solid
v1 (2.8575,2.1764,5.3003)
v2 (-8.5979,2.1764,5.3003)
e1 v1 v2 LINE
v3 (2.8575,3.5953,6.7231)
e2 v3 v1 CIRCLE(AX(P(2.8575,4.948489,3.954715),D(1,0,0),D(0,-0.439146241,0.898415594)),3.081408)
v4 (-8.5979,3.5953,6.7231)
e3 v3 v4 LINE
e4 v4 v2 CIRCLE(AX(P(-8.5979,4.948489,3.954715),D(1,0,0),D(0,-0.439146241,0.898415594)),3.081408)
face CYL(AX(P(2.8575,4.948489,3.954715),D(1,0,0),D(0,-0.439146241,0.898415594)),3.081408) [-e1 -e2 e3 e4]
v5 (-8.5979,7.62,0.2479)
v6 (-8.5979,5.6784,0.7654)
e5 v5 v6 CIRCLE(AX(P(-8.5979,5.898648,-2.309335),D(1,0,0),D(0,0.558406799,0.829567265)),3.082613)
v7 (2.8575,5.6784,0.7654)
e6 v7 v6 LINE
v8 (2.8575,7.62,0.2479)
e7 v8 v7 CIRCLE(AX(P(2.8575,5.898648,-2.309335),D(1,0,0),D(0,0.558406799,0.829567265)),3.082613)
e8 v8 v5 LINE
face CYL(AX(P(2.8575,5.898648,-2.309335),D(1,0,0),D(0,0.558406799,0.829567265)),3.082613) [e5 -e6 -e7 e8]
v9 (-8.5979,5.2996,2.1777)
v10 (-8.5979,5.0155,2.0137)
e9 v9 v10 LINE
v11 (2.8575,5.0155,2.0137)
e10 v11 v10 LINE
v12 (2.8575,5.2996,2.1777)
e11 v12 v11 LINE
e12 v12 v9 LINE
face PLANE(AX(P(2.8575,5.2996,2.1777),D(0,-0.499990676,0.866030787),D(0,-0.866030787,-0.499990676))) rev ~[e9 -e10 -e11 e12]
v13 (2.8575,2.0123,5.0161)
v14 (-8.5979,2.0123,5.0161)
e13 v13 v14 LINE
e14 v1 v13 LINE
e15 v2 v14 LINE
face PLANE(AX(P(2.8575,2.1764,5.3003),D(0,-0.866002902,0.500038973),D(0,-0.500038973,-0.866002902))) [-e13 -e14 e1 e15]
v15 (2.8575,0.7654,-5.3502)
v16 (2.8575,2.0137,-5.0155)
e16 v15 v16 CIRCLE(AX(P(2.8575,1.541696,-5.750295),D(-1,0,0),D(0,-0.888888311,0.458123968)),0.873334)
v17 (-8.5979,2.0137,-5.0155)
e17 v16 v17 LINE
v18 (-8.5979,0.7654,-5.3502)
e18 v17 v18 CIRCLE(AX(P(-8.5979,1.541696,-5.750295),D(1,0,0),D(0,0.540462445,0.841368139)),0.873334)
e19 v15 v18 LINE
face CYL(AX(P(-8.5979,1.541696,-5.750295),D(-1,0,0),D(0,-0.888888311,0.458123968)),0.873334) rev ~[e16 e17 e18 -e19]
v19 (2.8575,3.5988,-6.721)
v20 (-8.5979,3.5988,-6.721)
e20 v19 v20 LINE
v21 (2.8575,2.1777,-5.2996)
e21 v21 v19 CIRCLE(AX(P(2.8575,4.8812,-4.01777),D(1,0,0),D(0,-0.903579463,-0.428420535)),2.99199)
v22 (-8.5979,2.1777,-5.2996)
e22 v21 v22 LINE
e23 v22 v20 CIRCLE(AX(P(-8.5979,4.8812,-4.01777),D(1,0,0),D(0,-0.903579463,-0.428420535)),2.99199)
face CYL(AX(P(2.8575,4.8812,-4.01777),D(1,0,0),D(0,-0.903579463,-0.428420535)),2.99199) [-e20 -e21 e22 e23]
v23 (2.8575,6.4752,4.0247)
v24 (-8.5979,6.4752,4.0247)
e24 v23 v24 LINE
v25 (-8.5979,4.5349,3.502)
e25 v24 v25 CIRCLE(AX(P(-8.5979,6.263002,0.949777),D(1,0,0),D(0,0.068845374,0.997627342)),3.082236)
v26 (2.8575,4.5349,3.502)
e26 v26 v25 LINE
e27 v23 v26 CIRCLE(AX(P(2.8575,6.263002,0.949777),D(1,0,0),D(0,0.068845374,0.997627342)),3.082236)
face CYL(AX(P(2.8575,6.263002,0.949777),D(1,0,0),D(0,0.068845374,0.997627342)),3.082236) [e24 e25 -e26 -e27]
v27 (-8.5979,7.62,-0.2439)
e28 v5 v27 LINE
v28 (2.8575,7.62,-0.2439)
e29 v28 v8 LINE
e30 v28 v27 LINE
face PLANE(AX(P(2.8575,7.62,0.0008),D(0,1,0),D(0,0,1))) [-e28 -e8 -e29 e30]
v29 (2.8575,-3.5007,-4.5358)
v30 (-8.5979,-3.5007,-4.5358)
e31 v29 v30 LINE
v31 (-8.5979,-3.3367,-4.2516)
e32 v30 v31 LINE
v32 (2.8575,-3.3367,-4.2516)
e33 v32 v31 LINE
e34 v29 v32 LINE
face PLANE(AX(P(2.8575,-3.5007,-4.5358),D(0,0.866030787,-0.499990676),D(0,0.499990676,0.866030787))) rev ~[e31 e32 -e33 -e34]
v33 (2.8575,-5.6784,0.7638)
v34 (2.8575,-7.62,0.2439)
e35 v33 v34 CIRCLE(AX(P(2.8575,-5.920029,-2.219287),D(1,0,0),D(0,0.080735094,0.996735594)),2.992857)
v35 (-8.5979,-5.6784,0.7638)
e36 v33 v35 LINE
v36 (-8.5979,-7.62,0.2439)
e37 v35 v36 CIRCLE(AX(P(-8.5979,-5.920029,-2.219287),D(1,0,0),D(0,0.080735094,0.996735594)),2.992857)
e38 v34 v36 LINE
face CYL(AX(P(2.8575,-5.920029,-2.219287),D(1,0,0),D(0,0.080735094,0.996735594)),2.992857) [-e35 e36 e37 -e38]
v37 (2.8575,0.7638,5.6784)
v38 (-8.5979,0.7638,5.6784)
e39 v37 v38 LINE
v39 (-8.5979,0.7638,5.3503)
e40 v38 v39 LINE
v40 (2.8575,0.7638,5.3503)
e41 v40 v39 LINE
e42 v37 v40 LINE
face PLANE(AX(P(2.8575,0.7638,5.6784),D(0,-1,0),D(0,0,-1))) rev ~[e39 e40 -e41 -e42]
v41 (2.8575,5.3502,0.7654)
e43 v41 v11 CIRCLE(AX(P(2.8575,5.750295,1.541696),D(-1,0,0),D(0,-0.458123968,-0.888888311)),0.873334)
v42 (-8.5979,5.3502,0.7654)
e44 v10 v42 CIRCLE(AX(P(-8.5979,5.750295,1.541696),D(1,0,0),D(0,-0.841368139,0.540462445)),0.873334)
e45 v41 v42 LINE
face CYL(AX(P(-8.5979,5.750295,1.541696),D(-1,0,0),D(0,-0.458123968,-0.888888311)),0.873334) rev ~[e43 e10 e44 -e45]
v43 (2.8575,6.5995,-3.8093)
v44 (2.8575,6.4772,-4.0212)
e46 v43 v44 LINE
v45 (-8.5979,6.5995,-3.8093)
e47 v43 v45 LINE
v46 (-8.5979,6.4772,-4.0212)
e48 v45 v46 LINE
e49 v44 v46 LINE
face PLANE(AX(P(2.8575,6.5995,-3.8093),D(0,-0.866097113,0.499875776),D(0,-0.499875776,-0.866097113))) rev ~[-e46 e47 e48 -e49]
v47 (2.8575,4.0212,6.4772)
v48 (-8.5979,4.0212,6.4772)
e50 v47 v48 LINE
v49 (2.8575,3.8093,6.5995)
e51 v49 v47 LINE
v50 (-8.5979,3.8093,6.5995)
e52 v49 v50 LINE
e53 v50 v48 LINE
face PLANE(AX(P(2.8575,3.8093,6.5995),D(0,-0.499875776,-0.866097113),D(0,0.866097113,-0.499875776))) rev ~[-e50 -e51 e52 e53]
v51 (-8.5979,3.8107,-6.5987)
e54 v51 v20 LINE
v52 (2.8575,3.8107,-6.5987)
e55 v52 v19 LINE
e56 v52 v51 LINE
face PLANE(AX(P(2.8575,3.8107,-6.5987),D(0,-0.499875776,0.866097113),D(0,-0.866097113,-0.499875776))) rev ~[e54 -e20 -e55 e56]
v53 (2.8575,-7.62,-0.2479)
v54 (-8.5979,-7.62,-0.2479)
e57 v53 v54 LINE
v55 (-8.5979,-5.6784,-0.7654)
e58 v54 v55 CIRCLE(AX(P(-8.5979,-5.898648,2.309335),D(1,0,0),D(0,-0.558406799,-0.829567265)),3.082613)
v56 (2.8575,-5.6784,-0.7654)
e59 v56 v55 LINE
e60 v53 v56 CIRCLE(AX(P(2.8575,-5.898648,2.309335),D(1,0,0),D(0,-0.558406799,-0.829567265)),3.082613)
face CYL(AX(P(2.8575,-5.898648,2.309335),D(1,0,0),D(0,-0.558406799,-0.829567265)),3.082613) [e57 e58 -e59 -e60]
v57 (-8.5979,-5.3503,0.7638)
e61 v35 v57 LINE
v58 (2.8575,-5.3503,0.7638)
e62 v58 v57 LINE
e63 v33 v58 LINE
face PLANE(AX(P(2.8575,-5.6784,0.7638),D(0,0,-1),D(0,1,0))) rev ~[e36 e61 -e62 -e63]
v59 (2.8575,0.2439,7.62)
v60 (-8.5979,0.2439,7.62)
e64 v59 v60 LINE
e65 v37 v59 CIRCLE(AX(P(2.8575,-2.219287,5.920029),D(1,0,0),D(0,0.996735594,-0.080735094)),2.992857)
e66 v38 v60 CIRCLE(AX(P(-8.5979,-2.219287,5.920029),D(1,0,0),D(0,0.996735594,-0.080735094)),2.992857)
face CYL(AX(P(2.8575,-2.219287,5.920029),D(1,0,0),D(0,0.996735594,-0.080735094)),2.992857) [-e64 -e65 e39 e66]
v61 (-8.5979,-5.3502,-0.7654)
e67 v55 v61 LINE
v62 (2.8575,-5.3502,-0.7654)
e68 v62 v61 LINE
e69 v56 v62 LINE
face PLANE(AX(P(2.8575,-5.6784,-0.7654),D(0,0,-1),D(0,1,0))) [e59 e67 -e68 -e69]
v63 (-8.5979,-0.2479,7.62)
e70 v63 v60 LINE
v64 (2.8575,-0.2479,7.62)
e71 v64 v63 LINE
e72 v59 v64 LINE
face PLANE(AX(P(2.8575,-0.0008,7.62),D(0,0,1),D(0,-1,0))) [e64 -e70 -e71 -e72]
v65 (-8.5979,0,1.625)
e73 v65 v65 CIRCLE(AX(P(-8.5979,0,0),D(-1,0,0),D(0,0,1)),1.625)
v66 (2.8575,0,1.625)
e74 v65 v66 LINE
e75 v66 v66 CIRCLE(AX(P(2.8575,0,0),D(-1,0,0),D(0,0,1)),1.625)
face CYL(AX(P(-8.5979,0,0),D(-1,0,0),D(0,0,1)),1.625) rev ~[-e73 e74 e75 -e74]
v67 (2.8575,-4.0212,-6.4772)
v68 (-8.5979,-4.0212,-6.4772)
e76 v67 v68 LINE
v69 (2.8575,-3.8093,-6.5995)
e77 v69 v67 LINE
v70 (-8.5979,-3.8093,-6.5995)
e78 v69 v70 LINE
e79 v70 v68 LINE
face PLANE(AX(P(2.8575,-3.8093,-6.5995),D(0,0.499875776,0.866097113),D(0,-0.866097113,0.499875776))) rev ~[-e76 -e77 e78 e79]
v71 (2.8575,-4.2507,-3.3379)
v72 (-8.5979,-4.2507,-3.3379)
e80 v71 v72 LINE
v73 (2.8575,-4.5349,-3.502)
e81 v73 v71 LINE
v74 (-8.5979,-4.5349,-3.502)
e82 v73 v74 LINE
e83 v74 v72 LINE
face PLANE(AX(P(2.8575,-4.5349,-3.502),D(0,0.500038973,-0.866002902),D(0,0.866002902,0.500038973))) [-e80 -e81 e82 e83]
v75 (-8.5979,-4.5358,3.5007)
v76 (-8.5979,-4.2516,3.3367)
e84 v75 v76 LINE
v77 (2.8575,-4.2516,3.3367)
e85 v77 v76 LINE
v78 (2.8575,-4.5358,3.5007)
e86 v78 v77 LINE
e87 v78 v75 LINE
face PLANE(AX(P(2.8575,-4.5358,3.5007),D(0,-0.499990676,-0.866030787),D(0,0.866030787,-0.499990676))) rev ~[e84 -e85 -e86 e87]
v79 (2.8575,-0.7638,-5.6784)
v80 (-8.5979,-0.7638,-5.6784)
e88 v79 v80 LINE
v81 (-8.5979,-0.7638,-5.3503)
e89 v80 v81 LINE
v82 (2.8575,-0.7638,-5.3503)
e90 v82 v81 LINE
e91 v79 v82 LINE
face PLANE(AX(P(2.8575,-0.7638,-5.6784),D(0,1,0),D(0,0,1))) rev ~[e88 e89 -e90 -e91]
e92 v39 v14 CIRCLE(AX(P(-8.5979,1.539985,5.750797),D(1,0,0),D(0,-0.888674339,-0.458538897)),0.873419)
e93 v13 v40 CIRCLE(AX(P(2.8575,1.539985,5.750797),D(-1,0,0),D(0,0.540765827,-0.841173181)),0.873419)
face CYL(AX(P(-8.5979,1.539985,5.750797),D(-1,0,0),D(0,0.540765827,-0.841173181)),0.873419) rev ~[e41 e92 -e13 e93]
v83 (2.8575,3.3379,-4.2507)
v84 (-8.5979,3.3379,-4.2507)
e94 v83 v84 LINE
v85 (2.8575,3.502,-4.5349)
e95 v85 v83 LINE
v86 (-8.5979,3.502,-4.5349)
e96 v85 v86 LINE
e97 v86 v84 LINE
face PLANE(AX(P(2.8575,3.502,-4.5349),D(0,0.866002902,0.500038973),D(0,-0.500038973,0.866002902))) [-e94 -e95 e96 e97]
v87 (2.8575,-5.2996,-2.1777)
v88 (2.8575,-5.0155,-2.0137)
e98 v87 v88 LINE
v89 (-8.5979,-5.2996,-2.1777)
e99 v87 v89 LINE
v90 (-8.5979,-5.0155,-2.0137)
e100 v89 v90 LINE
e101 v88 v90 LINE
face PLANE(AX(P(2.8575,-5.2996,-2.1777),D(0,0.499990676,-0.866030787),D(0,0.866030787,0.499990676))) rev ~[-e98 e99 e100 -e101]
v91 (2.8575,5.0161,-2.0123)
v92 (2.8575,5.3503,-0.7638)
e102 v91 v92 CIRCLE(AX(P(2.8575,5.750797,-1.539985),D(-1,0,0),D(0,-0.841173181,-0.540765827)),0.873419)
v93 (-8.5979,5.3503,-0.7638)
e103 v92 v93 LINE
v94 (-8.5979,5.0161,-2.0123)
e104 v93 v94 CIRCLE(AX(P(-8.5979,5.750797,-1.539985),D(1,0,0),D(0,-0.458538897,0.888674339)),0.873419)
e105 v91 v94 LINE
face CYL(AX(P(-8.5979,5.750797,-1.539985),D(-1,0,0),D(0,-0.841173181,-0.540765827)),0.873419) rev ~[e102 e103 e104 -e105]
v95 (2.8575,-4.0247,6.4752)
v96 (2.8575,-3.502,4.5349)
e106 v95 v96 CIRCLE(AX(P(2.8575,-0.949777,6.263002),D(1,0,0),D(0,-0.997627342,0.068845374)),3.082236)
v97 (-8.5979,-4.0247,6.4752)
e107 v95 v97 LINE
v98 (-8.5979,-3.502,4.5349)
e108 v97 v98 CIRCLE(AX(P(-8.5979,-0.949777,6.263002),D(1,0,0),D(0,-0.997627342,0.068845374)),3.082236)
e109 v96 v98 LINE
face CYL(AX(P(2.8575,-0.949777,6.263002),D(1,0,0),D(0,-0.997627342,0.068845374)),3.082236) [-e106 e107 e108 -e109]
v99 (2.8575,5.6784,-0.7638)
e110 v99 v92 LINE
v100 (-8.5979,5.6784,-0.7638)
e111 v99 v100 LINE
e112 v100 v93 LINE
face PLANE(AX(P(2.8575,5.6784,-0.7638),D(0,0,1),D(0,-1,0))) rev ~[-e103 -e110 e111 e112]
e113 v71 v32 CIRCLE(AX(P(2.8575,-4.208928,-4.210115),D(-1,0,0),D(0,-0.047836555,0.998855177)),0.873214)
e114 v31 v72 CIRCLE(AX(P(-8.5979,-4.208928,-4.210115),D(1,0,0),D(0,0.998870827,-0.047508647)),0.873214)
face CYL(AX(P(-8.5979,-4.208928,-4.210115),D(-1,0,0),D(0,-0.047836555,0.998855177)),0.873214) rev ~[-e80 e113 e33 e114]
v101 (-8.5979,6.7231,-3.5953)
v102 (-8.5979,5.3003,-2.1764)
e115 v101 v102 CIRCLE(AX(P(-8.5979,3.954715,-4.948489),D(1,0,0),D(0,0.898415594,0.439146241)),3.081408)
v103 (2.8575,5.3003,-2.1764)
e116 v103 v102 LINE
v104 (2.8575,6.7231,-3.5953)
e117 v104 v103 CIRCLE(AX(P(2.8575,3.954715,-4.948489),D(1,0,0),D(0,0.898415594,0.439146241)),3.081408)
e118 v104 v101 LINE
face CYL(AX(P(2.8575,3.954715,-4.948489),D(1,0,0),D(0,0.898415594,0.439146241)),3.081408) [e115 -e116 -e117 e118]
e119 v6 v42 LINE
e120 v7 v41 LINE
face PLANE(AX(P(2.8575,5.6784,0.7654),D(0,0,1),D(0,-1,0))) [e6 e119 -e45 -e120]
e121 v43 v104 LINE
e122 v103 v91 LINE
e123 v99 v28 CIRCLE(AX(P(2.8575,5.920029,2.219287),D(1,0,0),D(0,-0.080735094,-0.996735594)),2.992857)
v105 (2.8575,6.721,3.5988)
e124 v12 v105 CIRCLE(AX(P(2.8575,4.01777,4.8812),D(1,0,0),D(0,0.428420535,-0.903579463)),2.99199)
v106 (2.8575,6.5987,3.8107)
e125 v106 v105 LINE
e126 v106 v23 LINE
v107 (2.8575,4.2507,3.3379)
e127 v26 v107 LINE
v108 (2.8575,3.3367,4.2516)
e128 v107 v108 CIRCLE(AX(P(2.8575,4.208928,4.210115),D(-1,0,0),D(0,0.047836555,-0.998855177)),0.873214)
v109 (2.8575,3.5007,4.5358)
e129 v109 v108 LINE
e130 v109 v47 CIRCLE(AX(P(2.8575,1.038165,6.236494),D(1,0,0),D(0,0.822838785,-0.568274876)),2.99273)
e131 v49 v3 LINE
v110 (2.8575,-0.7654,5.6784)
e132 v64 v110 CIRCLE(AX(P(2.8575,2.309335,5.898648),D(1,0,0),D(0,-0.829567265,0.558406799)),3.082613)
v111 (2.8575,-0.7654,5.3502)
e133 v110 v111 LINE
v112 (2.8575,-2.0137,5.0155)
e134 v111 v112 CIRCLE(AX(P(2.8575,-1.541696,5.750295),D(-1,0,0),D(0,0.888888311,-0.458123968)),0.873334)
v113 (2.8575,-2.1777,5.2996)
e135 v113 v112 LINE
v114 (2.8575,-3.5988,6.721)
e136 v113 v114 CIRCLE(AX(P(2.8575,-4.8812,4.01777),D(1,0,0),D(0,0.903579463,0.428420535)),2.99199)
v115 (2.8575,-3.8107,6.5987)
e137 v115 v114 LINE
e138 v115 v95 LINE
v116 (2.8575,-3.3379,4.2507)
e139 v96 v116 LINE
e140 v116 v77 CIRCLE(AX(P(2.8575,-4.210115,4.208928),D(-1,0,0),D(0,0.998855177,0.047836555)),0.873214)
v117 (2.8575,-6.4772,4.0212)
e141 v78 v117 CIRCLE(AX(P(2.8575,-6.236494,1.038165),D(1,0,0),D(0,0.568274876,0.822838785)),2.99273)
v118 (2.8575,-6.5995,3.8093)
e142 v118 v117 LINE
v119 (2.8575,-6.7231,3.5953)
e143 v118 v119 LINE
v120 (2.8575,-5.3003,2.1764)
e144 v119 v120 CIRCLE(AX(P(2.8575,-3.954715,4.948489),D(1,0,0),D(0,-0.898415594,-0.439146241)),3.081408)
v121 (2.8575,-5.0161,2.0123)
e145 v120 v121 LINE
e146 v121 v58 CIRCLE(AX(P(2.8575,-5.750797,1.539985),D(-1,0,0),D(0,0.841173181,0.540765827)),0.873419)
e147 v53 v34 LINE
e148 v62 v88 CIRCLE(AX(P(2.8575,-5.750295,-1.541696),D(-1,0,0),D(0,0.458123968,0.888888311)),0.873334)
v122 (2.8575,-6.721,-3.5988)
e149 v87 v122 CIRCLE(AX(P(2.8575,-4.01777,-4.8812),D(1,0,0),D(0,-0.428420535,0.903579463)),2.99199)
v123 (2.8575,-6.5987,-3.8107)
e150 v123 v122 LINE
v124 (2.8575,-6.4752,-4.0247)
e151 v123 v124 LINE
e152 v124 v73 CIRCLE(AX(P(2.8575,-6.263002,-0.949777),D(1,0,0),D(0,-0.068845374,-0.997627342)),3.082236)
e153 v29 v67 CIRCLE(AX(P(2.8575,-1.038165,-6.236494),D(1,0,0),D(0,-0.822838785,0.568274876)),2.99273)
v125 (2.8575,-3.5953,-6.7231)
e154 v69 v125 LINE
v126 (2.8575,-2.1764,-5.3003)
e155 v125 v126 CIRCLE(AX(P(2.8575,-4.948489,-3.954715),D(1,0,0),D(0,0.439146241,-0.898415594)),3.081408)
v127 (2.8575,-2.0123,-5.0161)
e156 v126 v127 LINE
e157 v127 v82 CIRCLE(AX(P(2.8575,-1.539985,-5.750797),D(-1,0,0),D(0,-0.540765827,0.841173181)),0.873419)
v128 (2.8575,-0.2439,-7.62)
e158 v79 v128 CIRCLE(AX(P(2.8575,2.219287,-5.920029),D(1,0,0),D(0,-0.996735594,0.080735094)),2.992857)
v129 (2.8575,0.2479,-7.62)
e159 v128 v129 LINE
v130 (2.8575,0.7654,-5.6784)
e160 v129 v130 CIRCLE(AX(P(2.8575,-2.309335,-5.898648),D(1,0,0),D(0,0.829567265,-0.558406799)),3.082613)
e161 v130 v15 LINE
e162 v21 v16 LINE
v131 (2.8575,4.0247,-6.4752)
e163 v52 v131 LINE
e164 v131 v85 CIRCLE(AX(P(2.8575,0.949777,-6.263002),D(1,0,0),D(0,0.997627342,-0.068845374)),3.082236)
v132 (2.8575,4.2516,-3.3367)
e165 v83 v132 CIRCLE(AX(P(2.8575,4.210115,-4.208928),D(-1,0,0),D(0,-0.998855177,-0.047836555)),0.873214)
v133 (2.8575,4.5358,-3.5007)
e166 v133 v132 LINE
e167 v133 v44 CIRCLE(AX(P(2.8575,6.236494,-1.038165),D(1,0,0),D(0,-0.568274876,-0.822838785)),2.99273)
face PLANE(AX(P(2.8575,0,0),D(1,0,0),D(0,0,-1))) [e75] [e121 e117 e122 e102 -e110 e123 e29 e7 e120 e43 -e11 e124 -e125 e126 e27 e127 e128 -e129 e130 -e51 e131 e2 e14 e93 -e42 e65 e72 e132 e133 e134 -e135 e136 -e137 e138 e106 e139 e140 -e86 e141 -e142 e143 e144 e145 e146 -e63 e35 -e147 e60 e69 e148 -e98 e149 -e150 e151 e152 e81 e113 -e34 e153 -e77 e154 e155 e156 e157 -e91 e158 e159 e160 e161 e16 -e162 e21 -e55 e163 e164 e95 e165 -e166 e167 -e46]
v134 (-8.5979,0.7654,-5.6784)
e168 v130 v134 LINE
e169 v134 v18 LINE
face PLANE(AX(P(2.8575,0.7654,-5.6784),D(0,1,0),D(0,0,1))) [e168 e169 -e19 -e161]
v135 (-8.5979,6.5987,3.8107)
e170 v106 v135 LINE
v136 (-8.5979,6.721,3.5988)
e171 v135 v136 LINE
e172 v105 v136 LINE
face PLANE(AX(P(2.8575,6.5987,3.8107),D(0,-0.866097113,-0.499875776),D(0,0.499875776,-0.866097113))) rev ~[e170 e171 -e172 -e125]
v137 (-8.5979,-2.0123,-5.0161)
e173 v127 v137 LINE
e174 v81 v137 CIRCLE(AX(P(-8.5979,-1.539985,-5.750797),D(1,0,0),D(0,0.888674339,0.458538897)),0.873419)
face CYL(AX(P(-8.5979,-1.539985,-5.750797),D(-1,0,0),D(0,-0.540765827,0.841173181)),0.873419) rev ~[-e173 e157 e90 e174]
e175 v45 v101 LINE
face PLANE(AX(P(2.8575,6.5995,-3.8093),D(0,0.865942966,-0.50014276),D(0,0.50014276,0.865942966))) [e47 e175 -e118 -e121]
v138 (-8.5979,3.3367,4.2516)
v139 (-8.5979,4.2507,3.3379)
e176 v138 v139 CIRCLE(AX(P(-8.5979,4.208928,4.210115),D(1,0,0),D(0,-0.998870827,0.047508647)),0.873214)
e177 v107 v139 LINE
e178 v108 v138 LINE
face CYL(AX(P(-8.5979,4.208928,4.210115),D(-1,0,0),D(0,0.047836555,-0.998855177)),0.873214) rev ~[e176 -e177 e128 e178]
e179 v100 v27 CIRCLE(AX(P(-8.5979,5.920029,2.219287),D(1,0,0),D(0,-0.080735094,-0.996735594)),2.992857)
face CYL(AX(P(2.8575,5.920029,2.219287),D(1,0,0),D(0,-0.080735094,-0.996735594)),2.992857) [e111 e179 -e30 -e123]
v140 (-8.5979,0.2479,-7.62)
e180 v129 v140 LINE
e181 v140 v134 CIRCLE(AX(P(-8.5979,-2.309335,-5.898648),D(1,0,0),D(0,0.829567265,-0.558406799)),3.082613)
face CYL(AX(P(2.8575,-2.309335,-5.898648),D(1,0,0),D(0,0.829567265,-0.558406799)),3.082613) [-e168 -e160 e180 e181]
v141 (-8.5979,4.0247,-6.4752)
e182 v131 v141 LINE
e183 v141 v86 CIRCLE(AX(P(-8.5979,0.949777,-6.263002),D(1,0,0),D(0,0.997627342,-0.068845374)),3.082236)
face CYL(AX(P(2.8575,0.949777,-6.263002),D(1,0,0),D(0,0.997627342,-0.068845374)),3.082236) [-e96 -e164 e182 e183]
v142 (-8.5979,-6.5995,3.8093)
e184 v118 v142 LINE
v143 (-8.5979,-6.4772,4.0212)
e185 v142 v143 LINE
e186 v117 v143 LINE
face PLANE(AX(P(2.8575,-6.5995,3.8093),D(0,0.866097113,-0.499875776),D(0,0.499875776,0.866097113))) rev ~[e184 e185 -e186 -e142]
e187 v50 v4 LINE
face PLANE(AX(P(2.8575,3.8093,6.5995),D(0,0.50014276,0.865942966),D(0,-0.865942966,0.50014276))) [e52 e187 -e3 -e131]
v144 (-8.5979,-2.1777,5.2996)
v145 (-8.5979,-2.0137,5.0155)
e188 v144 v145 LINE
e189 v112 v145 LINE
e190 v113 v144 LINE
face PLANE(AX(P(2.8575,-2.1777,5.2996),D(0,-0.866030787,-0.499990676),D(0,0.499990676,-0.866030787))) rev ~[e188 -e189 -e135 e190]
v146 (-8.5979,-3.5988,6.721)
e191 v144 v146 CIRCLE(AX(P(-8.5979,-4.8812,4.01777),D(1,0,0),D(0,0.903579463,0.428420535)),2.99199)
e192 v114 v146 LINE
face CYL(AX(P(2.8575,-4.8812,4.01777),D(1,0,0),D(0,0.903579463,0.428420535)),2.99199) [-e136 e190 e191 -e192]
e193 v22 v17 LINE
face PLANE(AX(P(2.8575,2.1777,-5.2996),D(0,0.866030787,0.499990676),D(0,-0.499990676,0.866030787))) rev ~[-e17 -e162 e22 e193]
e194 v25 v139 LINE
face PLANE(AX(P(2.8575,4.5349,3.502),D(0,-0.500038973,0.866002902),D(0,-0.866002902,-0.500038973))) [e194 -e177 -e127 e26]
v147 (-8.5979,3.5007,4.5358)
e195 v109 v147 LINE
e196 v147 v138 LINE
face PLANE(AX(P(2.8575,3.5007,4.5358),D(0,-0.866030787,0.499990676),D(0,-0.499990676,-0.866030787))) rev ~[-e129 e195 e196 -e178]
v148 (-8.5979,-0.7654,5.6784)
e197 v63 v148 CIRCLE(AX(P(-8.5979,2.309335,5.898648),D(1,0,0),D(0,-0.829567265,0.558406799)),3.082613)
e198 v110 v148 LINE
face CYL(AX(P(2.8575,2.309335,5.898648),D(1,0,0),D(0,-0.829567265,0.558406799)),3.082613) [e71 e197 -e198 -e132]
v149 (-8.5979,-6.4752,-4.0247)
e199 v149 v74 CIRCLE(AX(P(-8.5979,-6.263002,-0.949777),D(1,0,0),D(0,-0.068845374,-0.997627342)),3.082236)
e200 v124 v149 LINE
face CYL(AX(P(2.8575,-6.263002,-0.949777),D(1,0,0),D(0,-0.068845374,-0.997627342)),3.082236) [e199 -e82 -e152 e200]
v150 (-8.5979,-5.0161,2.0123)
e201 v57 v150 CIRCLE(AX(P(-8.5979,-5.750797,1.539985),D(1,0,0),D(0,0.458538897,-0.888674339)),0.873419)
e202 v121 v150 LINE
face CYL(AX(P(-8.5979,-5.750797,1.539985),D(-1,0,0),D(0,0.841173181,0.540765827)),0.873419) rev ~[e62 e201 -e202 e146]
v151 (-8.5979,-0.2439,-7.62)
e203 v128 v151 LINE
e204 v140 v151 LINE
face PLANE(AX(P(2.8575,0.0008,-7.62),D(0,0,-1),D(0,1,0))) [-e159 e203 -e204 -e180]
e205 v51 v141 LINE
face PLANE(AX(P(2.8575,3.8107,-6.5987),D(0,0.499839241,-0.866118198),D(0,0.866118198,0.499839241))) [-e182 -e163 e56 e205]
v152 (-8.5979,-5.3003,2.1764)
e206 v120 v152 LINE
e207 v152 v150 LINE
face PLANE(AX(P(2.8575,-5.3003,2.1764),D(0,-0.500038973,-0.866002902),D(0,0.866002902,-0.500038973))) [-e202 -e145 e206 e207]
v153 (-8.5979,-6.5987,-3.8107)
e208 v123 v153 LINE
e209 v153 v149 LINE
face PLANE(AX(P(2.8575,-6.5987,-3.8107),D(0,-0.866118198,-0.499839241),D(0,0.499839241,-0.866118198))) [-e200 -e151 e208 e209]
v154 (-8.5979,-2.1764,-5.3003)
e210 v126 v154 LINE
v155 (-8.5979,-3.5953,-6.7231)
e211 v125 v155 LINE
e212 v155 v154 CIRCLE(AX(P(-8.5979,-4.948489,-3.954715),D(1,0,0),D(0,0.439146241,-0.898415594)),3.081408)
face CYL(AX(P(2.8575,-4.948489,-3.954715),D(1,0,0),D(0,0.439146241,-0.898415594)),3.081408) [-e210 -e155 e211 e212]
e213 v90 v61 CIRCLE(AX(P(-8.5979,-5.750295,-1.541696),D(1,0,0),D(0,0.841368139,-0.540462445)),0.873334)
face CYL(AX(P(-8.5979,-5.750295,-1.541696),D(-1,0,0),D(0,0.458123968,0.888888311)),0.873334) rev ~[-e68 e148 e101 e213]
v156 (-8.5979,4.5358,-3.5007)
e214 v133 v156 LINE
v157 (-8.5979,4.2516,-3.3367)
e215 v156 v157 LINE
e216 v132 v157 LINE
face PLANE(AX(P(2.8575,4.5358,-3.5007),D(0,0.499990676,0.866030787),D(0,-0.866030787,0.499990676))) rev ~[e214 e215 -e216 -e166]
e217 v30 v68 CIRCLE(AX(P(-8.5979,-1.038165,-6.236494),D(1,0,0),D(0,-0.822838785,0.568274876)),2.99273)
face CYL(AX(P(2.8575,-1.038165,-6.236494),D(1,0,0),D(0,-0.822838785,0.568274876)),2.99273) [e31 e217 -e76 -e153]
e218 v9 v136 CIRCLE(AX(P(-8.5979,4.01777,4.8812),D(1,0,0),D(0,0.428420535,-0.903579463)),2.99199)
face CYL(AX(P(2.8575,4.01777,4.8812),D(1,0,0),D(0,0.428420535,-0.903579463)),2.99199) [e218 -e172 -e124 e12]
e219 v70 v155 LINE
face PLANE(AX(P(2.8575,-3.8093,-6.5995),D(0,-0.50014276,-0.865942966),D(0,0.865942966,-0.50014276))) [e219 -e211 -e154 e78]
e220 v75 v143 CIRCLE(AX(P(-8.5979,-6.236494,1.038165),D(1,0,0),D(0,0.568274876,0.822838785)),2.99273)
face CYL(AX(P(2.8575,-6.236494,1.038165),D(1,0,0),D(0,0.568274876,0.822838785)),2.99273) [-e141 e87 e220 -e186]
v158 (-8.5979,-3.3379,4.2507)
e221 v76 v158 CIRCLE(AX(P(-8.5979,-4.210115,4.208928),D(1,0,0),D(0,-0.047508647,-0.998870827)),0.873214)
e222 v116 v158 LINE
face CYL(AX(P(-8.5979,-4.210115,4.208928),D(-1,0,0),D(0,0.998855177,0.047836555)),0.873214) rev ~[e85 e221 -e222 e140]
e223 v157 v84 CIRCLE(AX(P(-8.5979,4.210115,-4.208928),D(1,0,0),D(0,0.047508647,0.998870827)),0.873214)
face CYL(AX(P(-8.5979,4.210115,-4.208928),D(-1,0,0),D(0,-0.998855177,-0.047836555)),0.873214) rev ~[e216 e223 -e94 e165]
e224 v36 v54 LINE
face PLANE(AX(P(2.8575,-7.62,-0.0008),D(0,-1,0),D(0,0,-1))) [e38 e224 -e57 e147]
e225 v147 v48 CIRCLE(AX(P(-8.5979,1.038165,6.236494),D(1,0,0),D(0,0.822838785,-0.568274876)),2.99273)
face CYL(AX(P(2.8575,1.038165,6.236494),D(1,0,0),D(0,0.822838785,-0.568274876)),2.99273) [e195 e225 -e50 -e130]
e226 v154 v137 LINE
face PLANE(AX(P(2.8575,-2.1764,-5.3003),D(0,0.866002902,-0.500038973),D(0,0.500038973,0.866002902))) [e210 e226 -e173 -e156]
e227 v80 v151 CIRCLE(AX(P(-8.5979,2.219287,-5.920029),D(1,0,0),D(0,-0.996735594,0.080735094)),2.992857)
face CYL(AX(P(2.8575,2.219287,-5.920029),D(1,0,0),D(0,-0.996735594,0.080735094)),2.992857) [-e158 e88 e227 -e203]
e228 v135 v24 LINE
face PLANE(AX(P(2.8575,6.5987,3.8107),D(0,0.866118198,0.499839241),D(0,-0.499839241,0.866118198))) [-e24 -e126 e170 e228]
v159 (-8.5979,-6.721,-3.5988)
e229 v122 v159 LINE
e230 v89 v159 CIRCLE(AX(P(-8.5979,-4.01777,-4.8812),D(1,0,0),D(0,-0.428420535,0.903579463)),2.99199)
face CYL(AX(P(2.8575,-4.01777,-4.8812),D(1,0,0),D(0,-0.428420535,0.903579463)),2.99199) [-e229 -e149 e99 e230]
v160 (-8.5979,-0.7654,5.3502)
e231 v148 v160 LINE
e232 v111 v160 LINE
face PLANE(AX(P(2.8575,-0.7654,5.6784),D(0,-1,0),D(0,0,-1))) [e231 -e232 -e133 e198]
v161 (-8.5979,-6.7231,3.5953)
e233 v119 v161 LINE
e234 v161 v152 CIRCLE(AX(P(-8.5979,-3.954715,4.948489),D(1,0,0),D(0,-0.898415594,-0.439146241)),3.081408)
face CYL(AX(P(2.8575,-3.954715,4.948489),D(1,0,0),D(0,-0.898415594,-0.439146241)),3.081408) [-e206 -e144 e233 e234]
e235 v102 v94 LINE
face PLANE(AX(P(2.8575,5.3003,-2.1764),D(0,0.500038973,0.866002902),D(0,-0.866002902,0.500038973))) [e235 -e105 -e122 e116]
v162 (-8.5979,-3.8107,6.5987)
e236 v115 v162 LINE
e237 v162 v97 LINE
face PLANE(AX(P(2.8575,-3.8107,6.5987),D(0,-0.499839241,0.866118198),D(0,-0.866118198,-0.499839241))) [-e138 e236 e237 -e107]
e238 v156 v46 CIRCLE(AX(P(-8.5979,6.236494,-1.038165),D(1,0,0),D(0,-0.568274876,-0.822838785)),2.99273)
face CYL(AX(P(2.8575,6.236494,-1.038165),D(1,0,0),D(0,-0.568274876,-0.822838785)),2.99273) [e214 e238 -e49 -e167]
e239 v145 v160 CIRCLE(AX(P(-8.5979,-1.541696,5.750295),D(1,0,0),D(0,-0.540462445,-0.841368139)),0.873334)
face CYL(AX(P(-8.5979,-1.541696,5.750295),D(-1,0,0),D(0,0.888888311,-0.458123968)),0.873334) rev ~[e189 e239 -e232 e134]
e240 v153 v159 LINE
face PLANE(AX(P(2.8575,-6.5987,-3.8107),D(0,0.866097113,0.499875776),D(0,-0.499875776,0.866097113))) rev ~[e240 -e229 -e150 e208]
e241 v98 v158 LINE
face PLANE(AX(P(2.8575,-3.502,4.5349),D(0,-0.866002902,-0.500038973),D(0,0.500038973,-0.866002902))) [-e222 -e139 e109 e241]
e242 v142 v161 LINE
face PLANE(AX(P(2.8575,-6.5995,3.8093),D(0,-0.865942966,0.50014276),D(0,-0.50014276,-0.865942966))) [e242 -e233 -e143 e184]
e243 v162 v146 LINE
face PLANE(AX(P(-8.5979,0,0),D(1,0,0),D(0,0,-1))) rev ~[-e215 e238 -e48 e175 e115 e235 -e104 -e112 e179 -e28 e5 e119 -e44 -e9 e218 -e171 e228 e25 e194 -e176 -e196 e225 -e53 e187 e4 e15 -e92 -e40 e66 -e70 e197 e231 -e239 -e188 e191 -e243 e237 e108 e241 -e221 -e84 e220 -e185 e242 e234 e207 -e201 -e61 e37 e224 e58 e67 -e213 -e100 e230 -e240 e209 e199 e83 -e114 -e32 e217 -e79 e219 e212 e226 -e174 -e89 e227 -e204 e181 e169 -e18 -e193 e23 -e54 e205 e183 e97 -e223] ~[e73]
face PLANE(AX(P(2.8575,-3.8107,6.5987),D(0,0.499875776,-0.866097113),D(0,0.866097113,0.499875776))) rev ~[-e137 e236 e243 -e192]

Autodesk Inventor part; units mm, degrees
ref_plane "YZ Plane" through (0, 0, 0) normal (1, 0, 0) x (0, 1, 0)
ref_plane "XZ Plane" through (0, 0, 0) normal (0, 1, 0) x (-1, 0, 0)
ref_plane "Work Plane2" through (2.8575, 0, 0) normal (1, 0, 0) x (0, 0, -1)
sketch "Sketch6" plane through (2.8575, 0, 0) normal (1, 0, 0) x (0, 0, -1)
  line L0 (0.7654, -5.6784) -> (0.7654, -5.022)
  line L1 (-0.7638, -5.6784) -> (-0.7638, -5.0222)
  arc A0 (5.6006, 2.3498) -> (5.5837, 2.3418) centre (6.3532, 0.7382) ccw
  arc A1 (-0.7638, -5.0222) -> (0.7654, -5.022) centre (0, 0) ccw
  line L2 (0.0008, -7.62) -> (-0.2439, -7.62)
  line L3 (0.0008, -7.62) -> (0.2479, -7.62)
  arc A2 (0.2479, -7.62) -> (0.7654, -5.6784) centre (-2.309, -5.8988) ccw
  arc A3 (-0.7638, -5.6784) -> (-0.2439, -7.62) centre (2.2185, -5.9201) ccw
  arc A4 (3.5877, -3.5965) -> (3.5976, -3.5866) centre (0, 0) ccw
  line L4 (3.502, -4.5349) -> (3.1738, -3.9665)
  line L5 (2.1777, -5.2996) -> (1.8496, -4.7313)
  arc A5 (1.8496, -4.7313) -> (3.1738, -3.9665) centre (0, 0) ccw
  line L6 (3.8107, -6.5987) -> (3.5988, -6.721)
  line L7 (3.8107, -6.5987) -> (4.0247, -6.4752)
  arc A6 (4.0247, -6.4752) -> (3.502, -4.5349) centre (0.9498, -6.263) ccw
  arc A7 (2.1777, -5.2996) -> (3.5988, -6.721) centre (4.8813, -4.0177) ccw
  line L8 (5.3003, -2.1764) -> (4.7319, -1.8482)
  line L9 (4.5358, -3.5007) -> (3.9675, -3.1726)
  arc A8 (3.9675, -3.1726) -> (4.7319, -1.8482) centre (0, 0) ccw
  line L10 (6.5995, -3.8093) -> (6.4772, -4.0212)
  line L11 (6.5995, -3.8093) -> (6.7231, -3.5953)
  arc A9 (6.7231, -3.5953) -> (5.3003, -2.1764) centre (3.954, -4.949) ccw
  arc A10 (4.5358, -3.5007) -> (6.4772, -4.0212) centre (6.2362, -1.0388) ccw
  line L12 (5.6784, 0.7654) -> (5.022, 0.7654)
  line L13 (5.6784, -0.7638) -> (5.0222, -0.7638)
  arc A11 (5.0222, -0.7638) -> (5.022, 0.7654) centre (0, 0) ccw
  line L14 (7.62, 0.0008) -> (7.62, -0.2439)
  line L15 (7.62, 0.0008) -> (7.62, 0.2479)
  arc A12 (7.62, 0.2479) -> (5.6784, 0.7654) centre (5.8988, -2.309) ccw
  arc A13 (5.6784, -0.7638) -> (7.62, -0.2439) centre (5.9201, 2.2185) ccw
  line L16 (4.5349, 3.502) -> (3.9665, 3.1738)
  line L17 (5.2996, 2.1777) -> (4.7313, 1.8496)
  arc A14 (4.7313, 1.8496) -> (3.9665, 3.1738) centre (0, 0) ccw
  line L18 (6.5987, 3.8107) -> (6.721, 3.5988)
  line L19 (6.5987, 3.8107) -> (6.4752, 4.0247)
  arc A15 (6.4752, 4.0247) -> (4.5349, 3.502) centre (6.263, 0.9498) ccw
  arc A16 (5.2996, 2.1777) -> (6.721, 3.5988) centre (4.0177, 4.8813) ccw
  line L20 (2.1764, 5.3003) -> (1.8482, 4.7319)
  line L21 (3.5007, 4.5358) -> (3.1726, 3.9675)
  arc A17 (3.1726, 3.9675) -> (1.8482, 4.7319) centre (0, 0) ccw
  line L22 (3.8093, 6.5995) -> (4.0212, 6.4772)
  line L23 (3.8093, 6.5995) -> (3.5953, 6.7231)
  arc A18 (3.5953, 6.7231) -> (2.1764, 5.3003) centre (4.949, 3.954) ccw
  arc A19 (3.5007, 4.5358) -> (4.0212, 6.4772) centre (1.0388, 6.2362) ccw
  line L24 (-0.7654, 5.6784) -> (-0.7654, 5.022)
  line L25 (0.7638, 5.6784) -> (0.7638, 5.0222)
  arc A20 (0.7638, 5.0222) -> (-0.7654, 5.022) centre (0, 0) ccw
  line L26 (-0.0008, 7.62) -> (0.2439, 7.62)
  line L27 (-0.0008, 7.62) -> (-0.2479, 7.62)
  arc A21 (-0.2479, 7.62) -> (-0.7654, 5.6784) centre (2.309, 5.8988) ccw
  arc A22 (0.7638, 5.6784) -> (0.2439, 7.62) centre (-2.2185, 5.9201) ccw
  line L28 (-3.502, 4.5349) -> (-3.1738, 3.9665)
  line L29 (-2.1777, 5.2996) -> (-1.8496, 4.7313)
  arc A23 (-1.8496, 4.7313) -> (-3.1738, 3.9665) centre (0, 0) ccw
  line L30 (-3.8107, 6.5987) -> (-3.5988, 6.721)
  line L31 (-3.8107, 6.5987) -> (-4.0247, 6.4752)
  arc A24 (-4.0247, 6.4752) -> (-3.502, 4.5349) centre (-0.9498, 6.263) ccw
  arc A25 (-2.1777, 5.2996) -> (-3.5988, 6.721) centre (-4.8813, 4.0177) ccw
  line L32 (-5.3003, 2.1764) -> (-4.7319, 1.8482)
  line L33 (-4.5358, 3.5007) -> (-3.9675, 3.1726)
  arc A26 (-3.9675, 3.1726) -> (-4.7319, 1.8482) centre (0, 0) ccw
  line L34 (-6.5995, 3.8093) -> (-6.4772, 4.0212)
  line L35 (-6.5995, 3.8093) -> (-6.7231, 3.5953)
  arc A27 (-6.7231, 3.5953) -> (-5.3003, 2.1764) centre (-3.954, 4.949) ccw
  arc A28 (-4.5358, 3.5007) -> (-6.4772, 4.0212) centre (-6.2362, 1.0388) ccw
  line L36 (-5.6784, -0.7654) -> (-5.022, -0.7654)
  line L37 (-5.6784, 0.7638) -> (-5.0222, 0.7638)
  arc A29 (-5.0222, 0.7638) -> (-5.022, -0.7654) centre (0, 0) ccw
  line L38 (-7.62, -0.0008) -> (-7.62, 0.2439)
  line L39 (-7.62, -0.0008) -> (-7.62, -0.2479)
  arc A30 (-7.62, -0.2479) -> (-5.6784, -0.7654) centre (-5.8988, 2.309) ccw
  arc A31 (-5.6784, 0.7638) -> (-7.62, 0.2439) centre (-5.9201, -2.2185) ccw
  line L40 (-4.5349, -3.502) -> (-3.9665, -3.1738)
  line L41 (-5.2996, -2.1777) -> (-4.7313, -1.8496)
  arc A32 (-4.7313, -1.8496) -> (-3.9665, -3.1738) centre (0, 0) ccw
  line L42 (-6.5987, -3.8107) -> (-6.721, -3.5988)
  line L43 (-6.5987, -3.8107) -> (-6.4752, -4.0247)
  arc A33 (-6.4752, -4.0247) -> (-4.5349, -3.502) centre (-6.263, -0.9498) ccw
  arc A34 (-5.2996, -2.1777) -> (-6.721, -3.5988) centre (-4.0177, -4.8813) ccw
  line L44 (-2.1764, -5.3003) -> (-1.8482, -4.7319)
  line L45 (-3.5007, -4.5358) -> (-3.1726, -3.9675)
  arc A35 (-3.1726, -3.9675) -> (-1.8482, -4.7319) centre (0, 0) ccw
  line L46 (-3.8093, -6.5995) -> (-4.0212, -6.4772)
  line L47 (-3.8093, -6.5995) -> (-3.5953, -6.7231)
  arc A36 (-3.5953, -6.7231) -> (-2.1764, -5.3003) centre (-4.949, -3.954) ccw
  arc A37 (-3.5007, -4.5358) -> (-4.0212, -6.4772) centre (-1.0388, -6.2362) ccw
  arc A38 (-1.8482, -4.7319) -> (-0.7638, -5.0222) centre (0, 0) ccw
  line L48 (-2.0137, 5.0155) -> (-0.7654, 5.3502)
  line L49 (0.7638, 5.3503) -> (2.0123, 5.0161)
  line L50 (3.3367, 4.2516) -> (4.2507, 3.3379)
  line L51 (5.0155, 2.0137) -> (5.3502, 0.7654)
  line L52 (5.3503, -0.7638) -> (5.0161, -2.0123)
  line L53 (4.2516, -3.3367) -> (3.3379, -4.2507)
  line L54 (2.0137, -5.0155) -> (0.7654, -5.3502)
  line L55 (-0.7638, -5.3503) -> (-2.0123, -5.0161)
  line L56 (-3.3367, -4.2516) -> (-4.2507, -3.3379)
  line L57 (-5.0155, -2.0137) -> (-5.3502, -0.7654)
  line L58 (-5.3503, 0.7638) -> (-5.0161, 2.0123)
  line L59 (-4.2516, 3.3367) -> (-3.3379, 4.2507)
  circle A39 centre (0, 0) radius 5.0531
  point P0 (0, 0)
  point P1 (-4.2516, 3.3367)
  dimension "d94" = 360
extrude "Extrusion19" add sketch "Sketch6" against normal blind 11.4554 contours A2 L3 L2 A3 L1 A1 L0 | L0 A1 A38 A35 L45 L56 L40 A32 L41 L57 L36 A29 L37 L58 L32 A26 L33 L59 L28 A23 L29 L48 L24 A20 L25 L49 L20 A17 L21 L50 L16 A14 L17 L51 L12 A11 L13 L52 L8 A8 L9 L53 L4 A5 L5 L54 | L5 A5 L4 A6 L7 L6 A7 | L1 L55 L44 A38 | L44 A36 L47 L46 A37 L45 A35 | L9 A8 L8 A9 L11 L10 A10 | L40 A33 L43 L42 A34 L41 A32 | L13 A11 L12 A12 L15 L14 A13 | L36 A30 L39 L38 A31 L37 A29 | L17 A14 L16 A15 L19 L18 A16 | L32 A27 L35 L34 A28 L33 A26 | L21 A17 L20 A18 L23 L22 A19 | L28 A24 L31 L30 A25 L29 A23 | L25 A20 L24 A21 L27 L26 A22 | A39
sketch "Sketch7" plane through (-8.5979, 0, 0) normal (-1, 0, 0) x (0, 0, 1)
  circle A0 centre (0, 0) radius 1.625
  dimension "d104" = 3.25
extrude "Extrusion20" cut sketch "Sketch7" against normal blind 2540
sketch "Sketch8" plane through (-8.5979, 0, 0) normal (-1, 0, 0) x (0, 0, 1)
  circle A0 centre (0, 0) radius 5.08
  line L0 (-3.3367, 4.2516) -> (-4.2507, 3.3379) projected
  arc A1 (-4.2507, 3.3379) -> (-3.3367, 4.2516) centre (-4.209, 4.2103) ccw
  line L1 (-3.3367, 4.2516) -> (-3.5007, 4.5358) projected
  line L2 (-4.2507, 3.3379) -> (-3.3367, 4.2516)
  arc A2 (-5.3502, 0.7654) -> (-5.0155, 2.0137) centre (-5.7503, 1.5417) ccw
  line L3 (-5.3502, 0.7654) -> (-5.0155, 2.0137)
  arc A3 (-5.0161, -2.0123) -> (-5.3503, -0.7638) centre (-5.7507, -1.54) ccw
  line L4 (-5.0161, -2.0123) -> (-5.3503, -0.7638)
  arc A4 (-3.3379, -4.2507) -> (-4.2516, -3.3367) centre (-4.2103, -4.209) ccw
  line L5 (-3.3379, -4.2507) -> (-4.2516, -3.3367)
  arc A5 (-0.7654, -5.3502) -> (-2.0137, -5.0155) centre (-1.5417, -5.7503) ccw
  line L6 (-0.7654, -5.3502) -> (-2.0137, -5.0155)
  arc A6 (2.0123, -5.0161) -> (0.7638, -5.3503) centre (1.54, -5.7507) ccw
  line L7 (2.0123, -5.0161) -> (0.7638, -5.3503)
  arc A7 (4.2507, -3.3379) -> (3.3367, -4.2516) centre (4.209, -4.2103) ccw
  line L8 (4.2507, -3.3379) -> (3.3367, -4.2516)
  arc A8 (5.3502, -0.7654) -> (5.0155, -2.0137) centre (5.7503, -1.5417) ccw
  line L9 (5.3502, -0.7654) -> (5.0155, -2.0137)
  arc A9 (5.0161, 2.0123) -> (5.3503, 0.7638) centre (5.7507, 1.54) ccw
  line L10 (5.0161, 2.0123) -> (5.3503, 0.7638)
  arc A10 (3.3379, 4.2507) -> (4.2516, 3.3367) centre (4.2103, 4.209) ccw
  line L11 (3.3379, 4.2507) -> (4.2516, 3.3367)
  arc A11 (0.7654, 5.3502) -> (2.0137, 5.0155) centre (1.5417, 5.7503) ccw
  line L12 (0.7654, 5.3502) -> (2.0137, 5.0155)
  arc A12 (-2.0123, 5.0161) -> (-0.7638, 5.3503) centre (-1.54, 5.7507) ccw
  line L13 (-2.0123, 5.0161) -> (-0.7638, 5.3503)
  dimension "d107" = 10.16
  dimension "d110" = 360
extrude "Extrusion21" cut sketch "Sketch8" against normal blind 2540 contours A8 L9 | A7 L8 | A6 L7 | A5 L6 | A4 L5 | A3 L4 | A2 L3 | A1 L0 | A12 L13 | A11 L12 | A10 L11 | A9 L10
properties part number "Alligator_Pinion (2)"
